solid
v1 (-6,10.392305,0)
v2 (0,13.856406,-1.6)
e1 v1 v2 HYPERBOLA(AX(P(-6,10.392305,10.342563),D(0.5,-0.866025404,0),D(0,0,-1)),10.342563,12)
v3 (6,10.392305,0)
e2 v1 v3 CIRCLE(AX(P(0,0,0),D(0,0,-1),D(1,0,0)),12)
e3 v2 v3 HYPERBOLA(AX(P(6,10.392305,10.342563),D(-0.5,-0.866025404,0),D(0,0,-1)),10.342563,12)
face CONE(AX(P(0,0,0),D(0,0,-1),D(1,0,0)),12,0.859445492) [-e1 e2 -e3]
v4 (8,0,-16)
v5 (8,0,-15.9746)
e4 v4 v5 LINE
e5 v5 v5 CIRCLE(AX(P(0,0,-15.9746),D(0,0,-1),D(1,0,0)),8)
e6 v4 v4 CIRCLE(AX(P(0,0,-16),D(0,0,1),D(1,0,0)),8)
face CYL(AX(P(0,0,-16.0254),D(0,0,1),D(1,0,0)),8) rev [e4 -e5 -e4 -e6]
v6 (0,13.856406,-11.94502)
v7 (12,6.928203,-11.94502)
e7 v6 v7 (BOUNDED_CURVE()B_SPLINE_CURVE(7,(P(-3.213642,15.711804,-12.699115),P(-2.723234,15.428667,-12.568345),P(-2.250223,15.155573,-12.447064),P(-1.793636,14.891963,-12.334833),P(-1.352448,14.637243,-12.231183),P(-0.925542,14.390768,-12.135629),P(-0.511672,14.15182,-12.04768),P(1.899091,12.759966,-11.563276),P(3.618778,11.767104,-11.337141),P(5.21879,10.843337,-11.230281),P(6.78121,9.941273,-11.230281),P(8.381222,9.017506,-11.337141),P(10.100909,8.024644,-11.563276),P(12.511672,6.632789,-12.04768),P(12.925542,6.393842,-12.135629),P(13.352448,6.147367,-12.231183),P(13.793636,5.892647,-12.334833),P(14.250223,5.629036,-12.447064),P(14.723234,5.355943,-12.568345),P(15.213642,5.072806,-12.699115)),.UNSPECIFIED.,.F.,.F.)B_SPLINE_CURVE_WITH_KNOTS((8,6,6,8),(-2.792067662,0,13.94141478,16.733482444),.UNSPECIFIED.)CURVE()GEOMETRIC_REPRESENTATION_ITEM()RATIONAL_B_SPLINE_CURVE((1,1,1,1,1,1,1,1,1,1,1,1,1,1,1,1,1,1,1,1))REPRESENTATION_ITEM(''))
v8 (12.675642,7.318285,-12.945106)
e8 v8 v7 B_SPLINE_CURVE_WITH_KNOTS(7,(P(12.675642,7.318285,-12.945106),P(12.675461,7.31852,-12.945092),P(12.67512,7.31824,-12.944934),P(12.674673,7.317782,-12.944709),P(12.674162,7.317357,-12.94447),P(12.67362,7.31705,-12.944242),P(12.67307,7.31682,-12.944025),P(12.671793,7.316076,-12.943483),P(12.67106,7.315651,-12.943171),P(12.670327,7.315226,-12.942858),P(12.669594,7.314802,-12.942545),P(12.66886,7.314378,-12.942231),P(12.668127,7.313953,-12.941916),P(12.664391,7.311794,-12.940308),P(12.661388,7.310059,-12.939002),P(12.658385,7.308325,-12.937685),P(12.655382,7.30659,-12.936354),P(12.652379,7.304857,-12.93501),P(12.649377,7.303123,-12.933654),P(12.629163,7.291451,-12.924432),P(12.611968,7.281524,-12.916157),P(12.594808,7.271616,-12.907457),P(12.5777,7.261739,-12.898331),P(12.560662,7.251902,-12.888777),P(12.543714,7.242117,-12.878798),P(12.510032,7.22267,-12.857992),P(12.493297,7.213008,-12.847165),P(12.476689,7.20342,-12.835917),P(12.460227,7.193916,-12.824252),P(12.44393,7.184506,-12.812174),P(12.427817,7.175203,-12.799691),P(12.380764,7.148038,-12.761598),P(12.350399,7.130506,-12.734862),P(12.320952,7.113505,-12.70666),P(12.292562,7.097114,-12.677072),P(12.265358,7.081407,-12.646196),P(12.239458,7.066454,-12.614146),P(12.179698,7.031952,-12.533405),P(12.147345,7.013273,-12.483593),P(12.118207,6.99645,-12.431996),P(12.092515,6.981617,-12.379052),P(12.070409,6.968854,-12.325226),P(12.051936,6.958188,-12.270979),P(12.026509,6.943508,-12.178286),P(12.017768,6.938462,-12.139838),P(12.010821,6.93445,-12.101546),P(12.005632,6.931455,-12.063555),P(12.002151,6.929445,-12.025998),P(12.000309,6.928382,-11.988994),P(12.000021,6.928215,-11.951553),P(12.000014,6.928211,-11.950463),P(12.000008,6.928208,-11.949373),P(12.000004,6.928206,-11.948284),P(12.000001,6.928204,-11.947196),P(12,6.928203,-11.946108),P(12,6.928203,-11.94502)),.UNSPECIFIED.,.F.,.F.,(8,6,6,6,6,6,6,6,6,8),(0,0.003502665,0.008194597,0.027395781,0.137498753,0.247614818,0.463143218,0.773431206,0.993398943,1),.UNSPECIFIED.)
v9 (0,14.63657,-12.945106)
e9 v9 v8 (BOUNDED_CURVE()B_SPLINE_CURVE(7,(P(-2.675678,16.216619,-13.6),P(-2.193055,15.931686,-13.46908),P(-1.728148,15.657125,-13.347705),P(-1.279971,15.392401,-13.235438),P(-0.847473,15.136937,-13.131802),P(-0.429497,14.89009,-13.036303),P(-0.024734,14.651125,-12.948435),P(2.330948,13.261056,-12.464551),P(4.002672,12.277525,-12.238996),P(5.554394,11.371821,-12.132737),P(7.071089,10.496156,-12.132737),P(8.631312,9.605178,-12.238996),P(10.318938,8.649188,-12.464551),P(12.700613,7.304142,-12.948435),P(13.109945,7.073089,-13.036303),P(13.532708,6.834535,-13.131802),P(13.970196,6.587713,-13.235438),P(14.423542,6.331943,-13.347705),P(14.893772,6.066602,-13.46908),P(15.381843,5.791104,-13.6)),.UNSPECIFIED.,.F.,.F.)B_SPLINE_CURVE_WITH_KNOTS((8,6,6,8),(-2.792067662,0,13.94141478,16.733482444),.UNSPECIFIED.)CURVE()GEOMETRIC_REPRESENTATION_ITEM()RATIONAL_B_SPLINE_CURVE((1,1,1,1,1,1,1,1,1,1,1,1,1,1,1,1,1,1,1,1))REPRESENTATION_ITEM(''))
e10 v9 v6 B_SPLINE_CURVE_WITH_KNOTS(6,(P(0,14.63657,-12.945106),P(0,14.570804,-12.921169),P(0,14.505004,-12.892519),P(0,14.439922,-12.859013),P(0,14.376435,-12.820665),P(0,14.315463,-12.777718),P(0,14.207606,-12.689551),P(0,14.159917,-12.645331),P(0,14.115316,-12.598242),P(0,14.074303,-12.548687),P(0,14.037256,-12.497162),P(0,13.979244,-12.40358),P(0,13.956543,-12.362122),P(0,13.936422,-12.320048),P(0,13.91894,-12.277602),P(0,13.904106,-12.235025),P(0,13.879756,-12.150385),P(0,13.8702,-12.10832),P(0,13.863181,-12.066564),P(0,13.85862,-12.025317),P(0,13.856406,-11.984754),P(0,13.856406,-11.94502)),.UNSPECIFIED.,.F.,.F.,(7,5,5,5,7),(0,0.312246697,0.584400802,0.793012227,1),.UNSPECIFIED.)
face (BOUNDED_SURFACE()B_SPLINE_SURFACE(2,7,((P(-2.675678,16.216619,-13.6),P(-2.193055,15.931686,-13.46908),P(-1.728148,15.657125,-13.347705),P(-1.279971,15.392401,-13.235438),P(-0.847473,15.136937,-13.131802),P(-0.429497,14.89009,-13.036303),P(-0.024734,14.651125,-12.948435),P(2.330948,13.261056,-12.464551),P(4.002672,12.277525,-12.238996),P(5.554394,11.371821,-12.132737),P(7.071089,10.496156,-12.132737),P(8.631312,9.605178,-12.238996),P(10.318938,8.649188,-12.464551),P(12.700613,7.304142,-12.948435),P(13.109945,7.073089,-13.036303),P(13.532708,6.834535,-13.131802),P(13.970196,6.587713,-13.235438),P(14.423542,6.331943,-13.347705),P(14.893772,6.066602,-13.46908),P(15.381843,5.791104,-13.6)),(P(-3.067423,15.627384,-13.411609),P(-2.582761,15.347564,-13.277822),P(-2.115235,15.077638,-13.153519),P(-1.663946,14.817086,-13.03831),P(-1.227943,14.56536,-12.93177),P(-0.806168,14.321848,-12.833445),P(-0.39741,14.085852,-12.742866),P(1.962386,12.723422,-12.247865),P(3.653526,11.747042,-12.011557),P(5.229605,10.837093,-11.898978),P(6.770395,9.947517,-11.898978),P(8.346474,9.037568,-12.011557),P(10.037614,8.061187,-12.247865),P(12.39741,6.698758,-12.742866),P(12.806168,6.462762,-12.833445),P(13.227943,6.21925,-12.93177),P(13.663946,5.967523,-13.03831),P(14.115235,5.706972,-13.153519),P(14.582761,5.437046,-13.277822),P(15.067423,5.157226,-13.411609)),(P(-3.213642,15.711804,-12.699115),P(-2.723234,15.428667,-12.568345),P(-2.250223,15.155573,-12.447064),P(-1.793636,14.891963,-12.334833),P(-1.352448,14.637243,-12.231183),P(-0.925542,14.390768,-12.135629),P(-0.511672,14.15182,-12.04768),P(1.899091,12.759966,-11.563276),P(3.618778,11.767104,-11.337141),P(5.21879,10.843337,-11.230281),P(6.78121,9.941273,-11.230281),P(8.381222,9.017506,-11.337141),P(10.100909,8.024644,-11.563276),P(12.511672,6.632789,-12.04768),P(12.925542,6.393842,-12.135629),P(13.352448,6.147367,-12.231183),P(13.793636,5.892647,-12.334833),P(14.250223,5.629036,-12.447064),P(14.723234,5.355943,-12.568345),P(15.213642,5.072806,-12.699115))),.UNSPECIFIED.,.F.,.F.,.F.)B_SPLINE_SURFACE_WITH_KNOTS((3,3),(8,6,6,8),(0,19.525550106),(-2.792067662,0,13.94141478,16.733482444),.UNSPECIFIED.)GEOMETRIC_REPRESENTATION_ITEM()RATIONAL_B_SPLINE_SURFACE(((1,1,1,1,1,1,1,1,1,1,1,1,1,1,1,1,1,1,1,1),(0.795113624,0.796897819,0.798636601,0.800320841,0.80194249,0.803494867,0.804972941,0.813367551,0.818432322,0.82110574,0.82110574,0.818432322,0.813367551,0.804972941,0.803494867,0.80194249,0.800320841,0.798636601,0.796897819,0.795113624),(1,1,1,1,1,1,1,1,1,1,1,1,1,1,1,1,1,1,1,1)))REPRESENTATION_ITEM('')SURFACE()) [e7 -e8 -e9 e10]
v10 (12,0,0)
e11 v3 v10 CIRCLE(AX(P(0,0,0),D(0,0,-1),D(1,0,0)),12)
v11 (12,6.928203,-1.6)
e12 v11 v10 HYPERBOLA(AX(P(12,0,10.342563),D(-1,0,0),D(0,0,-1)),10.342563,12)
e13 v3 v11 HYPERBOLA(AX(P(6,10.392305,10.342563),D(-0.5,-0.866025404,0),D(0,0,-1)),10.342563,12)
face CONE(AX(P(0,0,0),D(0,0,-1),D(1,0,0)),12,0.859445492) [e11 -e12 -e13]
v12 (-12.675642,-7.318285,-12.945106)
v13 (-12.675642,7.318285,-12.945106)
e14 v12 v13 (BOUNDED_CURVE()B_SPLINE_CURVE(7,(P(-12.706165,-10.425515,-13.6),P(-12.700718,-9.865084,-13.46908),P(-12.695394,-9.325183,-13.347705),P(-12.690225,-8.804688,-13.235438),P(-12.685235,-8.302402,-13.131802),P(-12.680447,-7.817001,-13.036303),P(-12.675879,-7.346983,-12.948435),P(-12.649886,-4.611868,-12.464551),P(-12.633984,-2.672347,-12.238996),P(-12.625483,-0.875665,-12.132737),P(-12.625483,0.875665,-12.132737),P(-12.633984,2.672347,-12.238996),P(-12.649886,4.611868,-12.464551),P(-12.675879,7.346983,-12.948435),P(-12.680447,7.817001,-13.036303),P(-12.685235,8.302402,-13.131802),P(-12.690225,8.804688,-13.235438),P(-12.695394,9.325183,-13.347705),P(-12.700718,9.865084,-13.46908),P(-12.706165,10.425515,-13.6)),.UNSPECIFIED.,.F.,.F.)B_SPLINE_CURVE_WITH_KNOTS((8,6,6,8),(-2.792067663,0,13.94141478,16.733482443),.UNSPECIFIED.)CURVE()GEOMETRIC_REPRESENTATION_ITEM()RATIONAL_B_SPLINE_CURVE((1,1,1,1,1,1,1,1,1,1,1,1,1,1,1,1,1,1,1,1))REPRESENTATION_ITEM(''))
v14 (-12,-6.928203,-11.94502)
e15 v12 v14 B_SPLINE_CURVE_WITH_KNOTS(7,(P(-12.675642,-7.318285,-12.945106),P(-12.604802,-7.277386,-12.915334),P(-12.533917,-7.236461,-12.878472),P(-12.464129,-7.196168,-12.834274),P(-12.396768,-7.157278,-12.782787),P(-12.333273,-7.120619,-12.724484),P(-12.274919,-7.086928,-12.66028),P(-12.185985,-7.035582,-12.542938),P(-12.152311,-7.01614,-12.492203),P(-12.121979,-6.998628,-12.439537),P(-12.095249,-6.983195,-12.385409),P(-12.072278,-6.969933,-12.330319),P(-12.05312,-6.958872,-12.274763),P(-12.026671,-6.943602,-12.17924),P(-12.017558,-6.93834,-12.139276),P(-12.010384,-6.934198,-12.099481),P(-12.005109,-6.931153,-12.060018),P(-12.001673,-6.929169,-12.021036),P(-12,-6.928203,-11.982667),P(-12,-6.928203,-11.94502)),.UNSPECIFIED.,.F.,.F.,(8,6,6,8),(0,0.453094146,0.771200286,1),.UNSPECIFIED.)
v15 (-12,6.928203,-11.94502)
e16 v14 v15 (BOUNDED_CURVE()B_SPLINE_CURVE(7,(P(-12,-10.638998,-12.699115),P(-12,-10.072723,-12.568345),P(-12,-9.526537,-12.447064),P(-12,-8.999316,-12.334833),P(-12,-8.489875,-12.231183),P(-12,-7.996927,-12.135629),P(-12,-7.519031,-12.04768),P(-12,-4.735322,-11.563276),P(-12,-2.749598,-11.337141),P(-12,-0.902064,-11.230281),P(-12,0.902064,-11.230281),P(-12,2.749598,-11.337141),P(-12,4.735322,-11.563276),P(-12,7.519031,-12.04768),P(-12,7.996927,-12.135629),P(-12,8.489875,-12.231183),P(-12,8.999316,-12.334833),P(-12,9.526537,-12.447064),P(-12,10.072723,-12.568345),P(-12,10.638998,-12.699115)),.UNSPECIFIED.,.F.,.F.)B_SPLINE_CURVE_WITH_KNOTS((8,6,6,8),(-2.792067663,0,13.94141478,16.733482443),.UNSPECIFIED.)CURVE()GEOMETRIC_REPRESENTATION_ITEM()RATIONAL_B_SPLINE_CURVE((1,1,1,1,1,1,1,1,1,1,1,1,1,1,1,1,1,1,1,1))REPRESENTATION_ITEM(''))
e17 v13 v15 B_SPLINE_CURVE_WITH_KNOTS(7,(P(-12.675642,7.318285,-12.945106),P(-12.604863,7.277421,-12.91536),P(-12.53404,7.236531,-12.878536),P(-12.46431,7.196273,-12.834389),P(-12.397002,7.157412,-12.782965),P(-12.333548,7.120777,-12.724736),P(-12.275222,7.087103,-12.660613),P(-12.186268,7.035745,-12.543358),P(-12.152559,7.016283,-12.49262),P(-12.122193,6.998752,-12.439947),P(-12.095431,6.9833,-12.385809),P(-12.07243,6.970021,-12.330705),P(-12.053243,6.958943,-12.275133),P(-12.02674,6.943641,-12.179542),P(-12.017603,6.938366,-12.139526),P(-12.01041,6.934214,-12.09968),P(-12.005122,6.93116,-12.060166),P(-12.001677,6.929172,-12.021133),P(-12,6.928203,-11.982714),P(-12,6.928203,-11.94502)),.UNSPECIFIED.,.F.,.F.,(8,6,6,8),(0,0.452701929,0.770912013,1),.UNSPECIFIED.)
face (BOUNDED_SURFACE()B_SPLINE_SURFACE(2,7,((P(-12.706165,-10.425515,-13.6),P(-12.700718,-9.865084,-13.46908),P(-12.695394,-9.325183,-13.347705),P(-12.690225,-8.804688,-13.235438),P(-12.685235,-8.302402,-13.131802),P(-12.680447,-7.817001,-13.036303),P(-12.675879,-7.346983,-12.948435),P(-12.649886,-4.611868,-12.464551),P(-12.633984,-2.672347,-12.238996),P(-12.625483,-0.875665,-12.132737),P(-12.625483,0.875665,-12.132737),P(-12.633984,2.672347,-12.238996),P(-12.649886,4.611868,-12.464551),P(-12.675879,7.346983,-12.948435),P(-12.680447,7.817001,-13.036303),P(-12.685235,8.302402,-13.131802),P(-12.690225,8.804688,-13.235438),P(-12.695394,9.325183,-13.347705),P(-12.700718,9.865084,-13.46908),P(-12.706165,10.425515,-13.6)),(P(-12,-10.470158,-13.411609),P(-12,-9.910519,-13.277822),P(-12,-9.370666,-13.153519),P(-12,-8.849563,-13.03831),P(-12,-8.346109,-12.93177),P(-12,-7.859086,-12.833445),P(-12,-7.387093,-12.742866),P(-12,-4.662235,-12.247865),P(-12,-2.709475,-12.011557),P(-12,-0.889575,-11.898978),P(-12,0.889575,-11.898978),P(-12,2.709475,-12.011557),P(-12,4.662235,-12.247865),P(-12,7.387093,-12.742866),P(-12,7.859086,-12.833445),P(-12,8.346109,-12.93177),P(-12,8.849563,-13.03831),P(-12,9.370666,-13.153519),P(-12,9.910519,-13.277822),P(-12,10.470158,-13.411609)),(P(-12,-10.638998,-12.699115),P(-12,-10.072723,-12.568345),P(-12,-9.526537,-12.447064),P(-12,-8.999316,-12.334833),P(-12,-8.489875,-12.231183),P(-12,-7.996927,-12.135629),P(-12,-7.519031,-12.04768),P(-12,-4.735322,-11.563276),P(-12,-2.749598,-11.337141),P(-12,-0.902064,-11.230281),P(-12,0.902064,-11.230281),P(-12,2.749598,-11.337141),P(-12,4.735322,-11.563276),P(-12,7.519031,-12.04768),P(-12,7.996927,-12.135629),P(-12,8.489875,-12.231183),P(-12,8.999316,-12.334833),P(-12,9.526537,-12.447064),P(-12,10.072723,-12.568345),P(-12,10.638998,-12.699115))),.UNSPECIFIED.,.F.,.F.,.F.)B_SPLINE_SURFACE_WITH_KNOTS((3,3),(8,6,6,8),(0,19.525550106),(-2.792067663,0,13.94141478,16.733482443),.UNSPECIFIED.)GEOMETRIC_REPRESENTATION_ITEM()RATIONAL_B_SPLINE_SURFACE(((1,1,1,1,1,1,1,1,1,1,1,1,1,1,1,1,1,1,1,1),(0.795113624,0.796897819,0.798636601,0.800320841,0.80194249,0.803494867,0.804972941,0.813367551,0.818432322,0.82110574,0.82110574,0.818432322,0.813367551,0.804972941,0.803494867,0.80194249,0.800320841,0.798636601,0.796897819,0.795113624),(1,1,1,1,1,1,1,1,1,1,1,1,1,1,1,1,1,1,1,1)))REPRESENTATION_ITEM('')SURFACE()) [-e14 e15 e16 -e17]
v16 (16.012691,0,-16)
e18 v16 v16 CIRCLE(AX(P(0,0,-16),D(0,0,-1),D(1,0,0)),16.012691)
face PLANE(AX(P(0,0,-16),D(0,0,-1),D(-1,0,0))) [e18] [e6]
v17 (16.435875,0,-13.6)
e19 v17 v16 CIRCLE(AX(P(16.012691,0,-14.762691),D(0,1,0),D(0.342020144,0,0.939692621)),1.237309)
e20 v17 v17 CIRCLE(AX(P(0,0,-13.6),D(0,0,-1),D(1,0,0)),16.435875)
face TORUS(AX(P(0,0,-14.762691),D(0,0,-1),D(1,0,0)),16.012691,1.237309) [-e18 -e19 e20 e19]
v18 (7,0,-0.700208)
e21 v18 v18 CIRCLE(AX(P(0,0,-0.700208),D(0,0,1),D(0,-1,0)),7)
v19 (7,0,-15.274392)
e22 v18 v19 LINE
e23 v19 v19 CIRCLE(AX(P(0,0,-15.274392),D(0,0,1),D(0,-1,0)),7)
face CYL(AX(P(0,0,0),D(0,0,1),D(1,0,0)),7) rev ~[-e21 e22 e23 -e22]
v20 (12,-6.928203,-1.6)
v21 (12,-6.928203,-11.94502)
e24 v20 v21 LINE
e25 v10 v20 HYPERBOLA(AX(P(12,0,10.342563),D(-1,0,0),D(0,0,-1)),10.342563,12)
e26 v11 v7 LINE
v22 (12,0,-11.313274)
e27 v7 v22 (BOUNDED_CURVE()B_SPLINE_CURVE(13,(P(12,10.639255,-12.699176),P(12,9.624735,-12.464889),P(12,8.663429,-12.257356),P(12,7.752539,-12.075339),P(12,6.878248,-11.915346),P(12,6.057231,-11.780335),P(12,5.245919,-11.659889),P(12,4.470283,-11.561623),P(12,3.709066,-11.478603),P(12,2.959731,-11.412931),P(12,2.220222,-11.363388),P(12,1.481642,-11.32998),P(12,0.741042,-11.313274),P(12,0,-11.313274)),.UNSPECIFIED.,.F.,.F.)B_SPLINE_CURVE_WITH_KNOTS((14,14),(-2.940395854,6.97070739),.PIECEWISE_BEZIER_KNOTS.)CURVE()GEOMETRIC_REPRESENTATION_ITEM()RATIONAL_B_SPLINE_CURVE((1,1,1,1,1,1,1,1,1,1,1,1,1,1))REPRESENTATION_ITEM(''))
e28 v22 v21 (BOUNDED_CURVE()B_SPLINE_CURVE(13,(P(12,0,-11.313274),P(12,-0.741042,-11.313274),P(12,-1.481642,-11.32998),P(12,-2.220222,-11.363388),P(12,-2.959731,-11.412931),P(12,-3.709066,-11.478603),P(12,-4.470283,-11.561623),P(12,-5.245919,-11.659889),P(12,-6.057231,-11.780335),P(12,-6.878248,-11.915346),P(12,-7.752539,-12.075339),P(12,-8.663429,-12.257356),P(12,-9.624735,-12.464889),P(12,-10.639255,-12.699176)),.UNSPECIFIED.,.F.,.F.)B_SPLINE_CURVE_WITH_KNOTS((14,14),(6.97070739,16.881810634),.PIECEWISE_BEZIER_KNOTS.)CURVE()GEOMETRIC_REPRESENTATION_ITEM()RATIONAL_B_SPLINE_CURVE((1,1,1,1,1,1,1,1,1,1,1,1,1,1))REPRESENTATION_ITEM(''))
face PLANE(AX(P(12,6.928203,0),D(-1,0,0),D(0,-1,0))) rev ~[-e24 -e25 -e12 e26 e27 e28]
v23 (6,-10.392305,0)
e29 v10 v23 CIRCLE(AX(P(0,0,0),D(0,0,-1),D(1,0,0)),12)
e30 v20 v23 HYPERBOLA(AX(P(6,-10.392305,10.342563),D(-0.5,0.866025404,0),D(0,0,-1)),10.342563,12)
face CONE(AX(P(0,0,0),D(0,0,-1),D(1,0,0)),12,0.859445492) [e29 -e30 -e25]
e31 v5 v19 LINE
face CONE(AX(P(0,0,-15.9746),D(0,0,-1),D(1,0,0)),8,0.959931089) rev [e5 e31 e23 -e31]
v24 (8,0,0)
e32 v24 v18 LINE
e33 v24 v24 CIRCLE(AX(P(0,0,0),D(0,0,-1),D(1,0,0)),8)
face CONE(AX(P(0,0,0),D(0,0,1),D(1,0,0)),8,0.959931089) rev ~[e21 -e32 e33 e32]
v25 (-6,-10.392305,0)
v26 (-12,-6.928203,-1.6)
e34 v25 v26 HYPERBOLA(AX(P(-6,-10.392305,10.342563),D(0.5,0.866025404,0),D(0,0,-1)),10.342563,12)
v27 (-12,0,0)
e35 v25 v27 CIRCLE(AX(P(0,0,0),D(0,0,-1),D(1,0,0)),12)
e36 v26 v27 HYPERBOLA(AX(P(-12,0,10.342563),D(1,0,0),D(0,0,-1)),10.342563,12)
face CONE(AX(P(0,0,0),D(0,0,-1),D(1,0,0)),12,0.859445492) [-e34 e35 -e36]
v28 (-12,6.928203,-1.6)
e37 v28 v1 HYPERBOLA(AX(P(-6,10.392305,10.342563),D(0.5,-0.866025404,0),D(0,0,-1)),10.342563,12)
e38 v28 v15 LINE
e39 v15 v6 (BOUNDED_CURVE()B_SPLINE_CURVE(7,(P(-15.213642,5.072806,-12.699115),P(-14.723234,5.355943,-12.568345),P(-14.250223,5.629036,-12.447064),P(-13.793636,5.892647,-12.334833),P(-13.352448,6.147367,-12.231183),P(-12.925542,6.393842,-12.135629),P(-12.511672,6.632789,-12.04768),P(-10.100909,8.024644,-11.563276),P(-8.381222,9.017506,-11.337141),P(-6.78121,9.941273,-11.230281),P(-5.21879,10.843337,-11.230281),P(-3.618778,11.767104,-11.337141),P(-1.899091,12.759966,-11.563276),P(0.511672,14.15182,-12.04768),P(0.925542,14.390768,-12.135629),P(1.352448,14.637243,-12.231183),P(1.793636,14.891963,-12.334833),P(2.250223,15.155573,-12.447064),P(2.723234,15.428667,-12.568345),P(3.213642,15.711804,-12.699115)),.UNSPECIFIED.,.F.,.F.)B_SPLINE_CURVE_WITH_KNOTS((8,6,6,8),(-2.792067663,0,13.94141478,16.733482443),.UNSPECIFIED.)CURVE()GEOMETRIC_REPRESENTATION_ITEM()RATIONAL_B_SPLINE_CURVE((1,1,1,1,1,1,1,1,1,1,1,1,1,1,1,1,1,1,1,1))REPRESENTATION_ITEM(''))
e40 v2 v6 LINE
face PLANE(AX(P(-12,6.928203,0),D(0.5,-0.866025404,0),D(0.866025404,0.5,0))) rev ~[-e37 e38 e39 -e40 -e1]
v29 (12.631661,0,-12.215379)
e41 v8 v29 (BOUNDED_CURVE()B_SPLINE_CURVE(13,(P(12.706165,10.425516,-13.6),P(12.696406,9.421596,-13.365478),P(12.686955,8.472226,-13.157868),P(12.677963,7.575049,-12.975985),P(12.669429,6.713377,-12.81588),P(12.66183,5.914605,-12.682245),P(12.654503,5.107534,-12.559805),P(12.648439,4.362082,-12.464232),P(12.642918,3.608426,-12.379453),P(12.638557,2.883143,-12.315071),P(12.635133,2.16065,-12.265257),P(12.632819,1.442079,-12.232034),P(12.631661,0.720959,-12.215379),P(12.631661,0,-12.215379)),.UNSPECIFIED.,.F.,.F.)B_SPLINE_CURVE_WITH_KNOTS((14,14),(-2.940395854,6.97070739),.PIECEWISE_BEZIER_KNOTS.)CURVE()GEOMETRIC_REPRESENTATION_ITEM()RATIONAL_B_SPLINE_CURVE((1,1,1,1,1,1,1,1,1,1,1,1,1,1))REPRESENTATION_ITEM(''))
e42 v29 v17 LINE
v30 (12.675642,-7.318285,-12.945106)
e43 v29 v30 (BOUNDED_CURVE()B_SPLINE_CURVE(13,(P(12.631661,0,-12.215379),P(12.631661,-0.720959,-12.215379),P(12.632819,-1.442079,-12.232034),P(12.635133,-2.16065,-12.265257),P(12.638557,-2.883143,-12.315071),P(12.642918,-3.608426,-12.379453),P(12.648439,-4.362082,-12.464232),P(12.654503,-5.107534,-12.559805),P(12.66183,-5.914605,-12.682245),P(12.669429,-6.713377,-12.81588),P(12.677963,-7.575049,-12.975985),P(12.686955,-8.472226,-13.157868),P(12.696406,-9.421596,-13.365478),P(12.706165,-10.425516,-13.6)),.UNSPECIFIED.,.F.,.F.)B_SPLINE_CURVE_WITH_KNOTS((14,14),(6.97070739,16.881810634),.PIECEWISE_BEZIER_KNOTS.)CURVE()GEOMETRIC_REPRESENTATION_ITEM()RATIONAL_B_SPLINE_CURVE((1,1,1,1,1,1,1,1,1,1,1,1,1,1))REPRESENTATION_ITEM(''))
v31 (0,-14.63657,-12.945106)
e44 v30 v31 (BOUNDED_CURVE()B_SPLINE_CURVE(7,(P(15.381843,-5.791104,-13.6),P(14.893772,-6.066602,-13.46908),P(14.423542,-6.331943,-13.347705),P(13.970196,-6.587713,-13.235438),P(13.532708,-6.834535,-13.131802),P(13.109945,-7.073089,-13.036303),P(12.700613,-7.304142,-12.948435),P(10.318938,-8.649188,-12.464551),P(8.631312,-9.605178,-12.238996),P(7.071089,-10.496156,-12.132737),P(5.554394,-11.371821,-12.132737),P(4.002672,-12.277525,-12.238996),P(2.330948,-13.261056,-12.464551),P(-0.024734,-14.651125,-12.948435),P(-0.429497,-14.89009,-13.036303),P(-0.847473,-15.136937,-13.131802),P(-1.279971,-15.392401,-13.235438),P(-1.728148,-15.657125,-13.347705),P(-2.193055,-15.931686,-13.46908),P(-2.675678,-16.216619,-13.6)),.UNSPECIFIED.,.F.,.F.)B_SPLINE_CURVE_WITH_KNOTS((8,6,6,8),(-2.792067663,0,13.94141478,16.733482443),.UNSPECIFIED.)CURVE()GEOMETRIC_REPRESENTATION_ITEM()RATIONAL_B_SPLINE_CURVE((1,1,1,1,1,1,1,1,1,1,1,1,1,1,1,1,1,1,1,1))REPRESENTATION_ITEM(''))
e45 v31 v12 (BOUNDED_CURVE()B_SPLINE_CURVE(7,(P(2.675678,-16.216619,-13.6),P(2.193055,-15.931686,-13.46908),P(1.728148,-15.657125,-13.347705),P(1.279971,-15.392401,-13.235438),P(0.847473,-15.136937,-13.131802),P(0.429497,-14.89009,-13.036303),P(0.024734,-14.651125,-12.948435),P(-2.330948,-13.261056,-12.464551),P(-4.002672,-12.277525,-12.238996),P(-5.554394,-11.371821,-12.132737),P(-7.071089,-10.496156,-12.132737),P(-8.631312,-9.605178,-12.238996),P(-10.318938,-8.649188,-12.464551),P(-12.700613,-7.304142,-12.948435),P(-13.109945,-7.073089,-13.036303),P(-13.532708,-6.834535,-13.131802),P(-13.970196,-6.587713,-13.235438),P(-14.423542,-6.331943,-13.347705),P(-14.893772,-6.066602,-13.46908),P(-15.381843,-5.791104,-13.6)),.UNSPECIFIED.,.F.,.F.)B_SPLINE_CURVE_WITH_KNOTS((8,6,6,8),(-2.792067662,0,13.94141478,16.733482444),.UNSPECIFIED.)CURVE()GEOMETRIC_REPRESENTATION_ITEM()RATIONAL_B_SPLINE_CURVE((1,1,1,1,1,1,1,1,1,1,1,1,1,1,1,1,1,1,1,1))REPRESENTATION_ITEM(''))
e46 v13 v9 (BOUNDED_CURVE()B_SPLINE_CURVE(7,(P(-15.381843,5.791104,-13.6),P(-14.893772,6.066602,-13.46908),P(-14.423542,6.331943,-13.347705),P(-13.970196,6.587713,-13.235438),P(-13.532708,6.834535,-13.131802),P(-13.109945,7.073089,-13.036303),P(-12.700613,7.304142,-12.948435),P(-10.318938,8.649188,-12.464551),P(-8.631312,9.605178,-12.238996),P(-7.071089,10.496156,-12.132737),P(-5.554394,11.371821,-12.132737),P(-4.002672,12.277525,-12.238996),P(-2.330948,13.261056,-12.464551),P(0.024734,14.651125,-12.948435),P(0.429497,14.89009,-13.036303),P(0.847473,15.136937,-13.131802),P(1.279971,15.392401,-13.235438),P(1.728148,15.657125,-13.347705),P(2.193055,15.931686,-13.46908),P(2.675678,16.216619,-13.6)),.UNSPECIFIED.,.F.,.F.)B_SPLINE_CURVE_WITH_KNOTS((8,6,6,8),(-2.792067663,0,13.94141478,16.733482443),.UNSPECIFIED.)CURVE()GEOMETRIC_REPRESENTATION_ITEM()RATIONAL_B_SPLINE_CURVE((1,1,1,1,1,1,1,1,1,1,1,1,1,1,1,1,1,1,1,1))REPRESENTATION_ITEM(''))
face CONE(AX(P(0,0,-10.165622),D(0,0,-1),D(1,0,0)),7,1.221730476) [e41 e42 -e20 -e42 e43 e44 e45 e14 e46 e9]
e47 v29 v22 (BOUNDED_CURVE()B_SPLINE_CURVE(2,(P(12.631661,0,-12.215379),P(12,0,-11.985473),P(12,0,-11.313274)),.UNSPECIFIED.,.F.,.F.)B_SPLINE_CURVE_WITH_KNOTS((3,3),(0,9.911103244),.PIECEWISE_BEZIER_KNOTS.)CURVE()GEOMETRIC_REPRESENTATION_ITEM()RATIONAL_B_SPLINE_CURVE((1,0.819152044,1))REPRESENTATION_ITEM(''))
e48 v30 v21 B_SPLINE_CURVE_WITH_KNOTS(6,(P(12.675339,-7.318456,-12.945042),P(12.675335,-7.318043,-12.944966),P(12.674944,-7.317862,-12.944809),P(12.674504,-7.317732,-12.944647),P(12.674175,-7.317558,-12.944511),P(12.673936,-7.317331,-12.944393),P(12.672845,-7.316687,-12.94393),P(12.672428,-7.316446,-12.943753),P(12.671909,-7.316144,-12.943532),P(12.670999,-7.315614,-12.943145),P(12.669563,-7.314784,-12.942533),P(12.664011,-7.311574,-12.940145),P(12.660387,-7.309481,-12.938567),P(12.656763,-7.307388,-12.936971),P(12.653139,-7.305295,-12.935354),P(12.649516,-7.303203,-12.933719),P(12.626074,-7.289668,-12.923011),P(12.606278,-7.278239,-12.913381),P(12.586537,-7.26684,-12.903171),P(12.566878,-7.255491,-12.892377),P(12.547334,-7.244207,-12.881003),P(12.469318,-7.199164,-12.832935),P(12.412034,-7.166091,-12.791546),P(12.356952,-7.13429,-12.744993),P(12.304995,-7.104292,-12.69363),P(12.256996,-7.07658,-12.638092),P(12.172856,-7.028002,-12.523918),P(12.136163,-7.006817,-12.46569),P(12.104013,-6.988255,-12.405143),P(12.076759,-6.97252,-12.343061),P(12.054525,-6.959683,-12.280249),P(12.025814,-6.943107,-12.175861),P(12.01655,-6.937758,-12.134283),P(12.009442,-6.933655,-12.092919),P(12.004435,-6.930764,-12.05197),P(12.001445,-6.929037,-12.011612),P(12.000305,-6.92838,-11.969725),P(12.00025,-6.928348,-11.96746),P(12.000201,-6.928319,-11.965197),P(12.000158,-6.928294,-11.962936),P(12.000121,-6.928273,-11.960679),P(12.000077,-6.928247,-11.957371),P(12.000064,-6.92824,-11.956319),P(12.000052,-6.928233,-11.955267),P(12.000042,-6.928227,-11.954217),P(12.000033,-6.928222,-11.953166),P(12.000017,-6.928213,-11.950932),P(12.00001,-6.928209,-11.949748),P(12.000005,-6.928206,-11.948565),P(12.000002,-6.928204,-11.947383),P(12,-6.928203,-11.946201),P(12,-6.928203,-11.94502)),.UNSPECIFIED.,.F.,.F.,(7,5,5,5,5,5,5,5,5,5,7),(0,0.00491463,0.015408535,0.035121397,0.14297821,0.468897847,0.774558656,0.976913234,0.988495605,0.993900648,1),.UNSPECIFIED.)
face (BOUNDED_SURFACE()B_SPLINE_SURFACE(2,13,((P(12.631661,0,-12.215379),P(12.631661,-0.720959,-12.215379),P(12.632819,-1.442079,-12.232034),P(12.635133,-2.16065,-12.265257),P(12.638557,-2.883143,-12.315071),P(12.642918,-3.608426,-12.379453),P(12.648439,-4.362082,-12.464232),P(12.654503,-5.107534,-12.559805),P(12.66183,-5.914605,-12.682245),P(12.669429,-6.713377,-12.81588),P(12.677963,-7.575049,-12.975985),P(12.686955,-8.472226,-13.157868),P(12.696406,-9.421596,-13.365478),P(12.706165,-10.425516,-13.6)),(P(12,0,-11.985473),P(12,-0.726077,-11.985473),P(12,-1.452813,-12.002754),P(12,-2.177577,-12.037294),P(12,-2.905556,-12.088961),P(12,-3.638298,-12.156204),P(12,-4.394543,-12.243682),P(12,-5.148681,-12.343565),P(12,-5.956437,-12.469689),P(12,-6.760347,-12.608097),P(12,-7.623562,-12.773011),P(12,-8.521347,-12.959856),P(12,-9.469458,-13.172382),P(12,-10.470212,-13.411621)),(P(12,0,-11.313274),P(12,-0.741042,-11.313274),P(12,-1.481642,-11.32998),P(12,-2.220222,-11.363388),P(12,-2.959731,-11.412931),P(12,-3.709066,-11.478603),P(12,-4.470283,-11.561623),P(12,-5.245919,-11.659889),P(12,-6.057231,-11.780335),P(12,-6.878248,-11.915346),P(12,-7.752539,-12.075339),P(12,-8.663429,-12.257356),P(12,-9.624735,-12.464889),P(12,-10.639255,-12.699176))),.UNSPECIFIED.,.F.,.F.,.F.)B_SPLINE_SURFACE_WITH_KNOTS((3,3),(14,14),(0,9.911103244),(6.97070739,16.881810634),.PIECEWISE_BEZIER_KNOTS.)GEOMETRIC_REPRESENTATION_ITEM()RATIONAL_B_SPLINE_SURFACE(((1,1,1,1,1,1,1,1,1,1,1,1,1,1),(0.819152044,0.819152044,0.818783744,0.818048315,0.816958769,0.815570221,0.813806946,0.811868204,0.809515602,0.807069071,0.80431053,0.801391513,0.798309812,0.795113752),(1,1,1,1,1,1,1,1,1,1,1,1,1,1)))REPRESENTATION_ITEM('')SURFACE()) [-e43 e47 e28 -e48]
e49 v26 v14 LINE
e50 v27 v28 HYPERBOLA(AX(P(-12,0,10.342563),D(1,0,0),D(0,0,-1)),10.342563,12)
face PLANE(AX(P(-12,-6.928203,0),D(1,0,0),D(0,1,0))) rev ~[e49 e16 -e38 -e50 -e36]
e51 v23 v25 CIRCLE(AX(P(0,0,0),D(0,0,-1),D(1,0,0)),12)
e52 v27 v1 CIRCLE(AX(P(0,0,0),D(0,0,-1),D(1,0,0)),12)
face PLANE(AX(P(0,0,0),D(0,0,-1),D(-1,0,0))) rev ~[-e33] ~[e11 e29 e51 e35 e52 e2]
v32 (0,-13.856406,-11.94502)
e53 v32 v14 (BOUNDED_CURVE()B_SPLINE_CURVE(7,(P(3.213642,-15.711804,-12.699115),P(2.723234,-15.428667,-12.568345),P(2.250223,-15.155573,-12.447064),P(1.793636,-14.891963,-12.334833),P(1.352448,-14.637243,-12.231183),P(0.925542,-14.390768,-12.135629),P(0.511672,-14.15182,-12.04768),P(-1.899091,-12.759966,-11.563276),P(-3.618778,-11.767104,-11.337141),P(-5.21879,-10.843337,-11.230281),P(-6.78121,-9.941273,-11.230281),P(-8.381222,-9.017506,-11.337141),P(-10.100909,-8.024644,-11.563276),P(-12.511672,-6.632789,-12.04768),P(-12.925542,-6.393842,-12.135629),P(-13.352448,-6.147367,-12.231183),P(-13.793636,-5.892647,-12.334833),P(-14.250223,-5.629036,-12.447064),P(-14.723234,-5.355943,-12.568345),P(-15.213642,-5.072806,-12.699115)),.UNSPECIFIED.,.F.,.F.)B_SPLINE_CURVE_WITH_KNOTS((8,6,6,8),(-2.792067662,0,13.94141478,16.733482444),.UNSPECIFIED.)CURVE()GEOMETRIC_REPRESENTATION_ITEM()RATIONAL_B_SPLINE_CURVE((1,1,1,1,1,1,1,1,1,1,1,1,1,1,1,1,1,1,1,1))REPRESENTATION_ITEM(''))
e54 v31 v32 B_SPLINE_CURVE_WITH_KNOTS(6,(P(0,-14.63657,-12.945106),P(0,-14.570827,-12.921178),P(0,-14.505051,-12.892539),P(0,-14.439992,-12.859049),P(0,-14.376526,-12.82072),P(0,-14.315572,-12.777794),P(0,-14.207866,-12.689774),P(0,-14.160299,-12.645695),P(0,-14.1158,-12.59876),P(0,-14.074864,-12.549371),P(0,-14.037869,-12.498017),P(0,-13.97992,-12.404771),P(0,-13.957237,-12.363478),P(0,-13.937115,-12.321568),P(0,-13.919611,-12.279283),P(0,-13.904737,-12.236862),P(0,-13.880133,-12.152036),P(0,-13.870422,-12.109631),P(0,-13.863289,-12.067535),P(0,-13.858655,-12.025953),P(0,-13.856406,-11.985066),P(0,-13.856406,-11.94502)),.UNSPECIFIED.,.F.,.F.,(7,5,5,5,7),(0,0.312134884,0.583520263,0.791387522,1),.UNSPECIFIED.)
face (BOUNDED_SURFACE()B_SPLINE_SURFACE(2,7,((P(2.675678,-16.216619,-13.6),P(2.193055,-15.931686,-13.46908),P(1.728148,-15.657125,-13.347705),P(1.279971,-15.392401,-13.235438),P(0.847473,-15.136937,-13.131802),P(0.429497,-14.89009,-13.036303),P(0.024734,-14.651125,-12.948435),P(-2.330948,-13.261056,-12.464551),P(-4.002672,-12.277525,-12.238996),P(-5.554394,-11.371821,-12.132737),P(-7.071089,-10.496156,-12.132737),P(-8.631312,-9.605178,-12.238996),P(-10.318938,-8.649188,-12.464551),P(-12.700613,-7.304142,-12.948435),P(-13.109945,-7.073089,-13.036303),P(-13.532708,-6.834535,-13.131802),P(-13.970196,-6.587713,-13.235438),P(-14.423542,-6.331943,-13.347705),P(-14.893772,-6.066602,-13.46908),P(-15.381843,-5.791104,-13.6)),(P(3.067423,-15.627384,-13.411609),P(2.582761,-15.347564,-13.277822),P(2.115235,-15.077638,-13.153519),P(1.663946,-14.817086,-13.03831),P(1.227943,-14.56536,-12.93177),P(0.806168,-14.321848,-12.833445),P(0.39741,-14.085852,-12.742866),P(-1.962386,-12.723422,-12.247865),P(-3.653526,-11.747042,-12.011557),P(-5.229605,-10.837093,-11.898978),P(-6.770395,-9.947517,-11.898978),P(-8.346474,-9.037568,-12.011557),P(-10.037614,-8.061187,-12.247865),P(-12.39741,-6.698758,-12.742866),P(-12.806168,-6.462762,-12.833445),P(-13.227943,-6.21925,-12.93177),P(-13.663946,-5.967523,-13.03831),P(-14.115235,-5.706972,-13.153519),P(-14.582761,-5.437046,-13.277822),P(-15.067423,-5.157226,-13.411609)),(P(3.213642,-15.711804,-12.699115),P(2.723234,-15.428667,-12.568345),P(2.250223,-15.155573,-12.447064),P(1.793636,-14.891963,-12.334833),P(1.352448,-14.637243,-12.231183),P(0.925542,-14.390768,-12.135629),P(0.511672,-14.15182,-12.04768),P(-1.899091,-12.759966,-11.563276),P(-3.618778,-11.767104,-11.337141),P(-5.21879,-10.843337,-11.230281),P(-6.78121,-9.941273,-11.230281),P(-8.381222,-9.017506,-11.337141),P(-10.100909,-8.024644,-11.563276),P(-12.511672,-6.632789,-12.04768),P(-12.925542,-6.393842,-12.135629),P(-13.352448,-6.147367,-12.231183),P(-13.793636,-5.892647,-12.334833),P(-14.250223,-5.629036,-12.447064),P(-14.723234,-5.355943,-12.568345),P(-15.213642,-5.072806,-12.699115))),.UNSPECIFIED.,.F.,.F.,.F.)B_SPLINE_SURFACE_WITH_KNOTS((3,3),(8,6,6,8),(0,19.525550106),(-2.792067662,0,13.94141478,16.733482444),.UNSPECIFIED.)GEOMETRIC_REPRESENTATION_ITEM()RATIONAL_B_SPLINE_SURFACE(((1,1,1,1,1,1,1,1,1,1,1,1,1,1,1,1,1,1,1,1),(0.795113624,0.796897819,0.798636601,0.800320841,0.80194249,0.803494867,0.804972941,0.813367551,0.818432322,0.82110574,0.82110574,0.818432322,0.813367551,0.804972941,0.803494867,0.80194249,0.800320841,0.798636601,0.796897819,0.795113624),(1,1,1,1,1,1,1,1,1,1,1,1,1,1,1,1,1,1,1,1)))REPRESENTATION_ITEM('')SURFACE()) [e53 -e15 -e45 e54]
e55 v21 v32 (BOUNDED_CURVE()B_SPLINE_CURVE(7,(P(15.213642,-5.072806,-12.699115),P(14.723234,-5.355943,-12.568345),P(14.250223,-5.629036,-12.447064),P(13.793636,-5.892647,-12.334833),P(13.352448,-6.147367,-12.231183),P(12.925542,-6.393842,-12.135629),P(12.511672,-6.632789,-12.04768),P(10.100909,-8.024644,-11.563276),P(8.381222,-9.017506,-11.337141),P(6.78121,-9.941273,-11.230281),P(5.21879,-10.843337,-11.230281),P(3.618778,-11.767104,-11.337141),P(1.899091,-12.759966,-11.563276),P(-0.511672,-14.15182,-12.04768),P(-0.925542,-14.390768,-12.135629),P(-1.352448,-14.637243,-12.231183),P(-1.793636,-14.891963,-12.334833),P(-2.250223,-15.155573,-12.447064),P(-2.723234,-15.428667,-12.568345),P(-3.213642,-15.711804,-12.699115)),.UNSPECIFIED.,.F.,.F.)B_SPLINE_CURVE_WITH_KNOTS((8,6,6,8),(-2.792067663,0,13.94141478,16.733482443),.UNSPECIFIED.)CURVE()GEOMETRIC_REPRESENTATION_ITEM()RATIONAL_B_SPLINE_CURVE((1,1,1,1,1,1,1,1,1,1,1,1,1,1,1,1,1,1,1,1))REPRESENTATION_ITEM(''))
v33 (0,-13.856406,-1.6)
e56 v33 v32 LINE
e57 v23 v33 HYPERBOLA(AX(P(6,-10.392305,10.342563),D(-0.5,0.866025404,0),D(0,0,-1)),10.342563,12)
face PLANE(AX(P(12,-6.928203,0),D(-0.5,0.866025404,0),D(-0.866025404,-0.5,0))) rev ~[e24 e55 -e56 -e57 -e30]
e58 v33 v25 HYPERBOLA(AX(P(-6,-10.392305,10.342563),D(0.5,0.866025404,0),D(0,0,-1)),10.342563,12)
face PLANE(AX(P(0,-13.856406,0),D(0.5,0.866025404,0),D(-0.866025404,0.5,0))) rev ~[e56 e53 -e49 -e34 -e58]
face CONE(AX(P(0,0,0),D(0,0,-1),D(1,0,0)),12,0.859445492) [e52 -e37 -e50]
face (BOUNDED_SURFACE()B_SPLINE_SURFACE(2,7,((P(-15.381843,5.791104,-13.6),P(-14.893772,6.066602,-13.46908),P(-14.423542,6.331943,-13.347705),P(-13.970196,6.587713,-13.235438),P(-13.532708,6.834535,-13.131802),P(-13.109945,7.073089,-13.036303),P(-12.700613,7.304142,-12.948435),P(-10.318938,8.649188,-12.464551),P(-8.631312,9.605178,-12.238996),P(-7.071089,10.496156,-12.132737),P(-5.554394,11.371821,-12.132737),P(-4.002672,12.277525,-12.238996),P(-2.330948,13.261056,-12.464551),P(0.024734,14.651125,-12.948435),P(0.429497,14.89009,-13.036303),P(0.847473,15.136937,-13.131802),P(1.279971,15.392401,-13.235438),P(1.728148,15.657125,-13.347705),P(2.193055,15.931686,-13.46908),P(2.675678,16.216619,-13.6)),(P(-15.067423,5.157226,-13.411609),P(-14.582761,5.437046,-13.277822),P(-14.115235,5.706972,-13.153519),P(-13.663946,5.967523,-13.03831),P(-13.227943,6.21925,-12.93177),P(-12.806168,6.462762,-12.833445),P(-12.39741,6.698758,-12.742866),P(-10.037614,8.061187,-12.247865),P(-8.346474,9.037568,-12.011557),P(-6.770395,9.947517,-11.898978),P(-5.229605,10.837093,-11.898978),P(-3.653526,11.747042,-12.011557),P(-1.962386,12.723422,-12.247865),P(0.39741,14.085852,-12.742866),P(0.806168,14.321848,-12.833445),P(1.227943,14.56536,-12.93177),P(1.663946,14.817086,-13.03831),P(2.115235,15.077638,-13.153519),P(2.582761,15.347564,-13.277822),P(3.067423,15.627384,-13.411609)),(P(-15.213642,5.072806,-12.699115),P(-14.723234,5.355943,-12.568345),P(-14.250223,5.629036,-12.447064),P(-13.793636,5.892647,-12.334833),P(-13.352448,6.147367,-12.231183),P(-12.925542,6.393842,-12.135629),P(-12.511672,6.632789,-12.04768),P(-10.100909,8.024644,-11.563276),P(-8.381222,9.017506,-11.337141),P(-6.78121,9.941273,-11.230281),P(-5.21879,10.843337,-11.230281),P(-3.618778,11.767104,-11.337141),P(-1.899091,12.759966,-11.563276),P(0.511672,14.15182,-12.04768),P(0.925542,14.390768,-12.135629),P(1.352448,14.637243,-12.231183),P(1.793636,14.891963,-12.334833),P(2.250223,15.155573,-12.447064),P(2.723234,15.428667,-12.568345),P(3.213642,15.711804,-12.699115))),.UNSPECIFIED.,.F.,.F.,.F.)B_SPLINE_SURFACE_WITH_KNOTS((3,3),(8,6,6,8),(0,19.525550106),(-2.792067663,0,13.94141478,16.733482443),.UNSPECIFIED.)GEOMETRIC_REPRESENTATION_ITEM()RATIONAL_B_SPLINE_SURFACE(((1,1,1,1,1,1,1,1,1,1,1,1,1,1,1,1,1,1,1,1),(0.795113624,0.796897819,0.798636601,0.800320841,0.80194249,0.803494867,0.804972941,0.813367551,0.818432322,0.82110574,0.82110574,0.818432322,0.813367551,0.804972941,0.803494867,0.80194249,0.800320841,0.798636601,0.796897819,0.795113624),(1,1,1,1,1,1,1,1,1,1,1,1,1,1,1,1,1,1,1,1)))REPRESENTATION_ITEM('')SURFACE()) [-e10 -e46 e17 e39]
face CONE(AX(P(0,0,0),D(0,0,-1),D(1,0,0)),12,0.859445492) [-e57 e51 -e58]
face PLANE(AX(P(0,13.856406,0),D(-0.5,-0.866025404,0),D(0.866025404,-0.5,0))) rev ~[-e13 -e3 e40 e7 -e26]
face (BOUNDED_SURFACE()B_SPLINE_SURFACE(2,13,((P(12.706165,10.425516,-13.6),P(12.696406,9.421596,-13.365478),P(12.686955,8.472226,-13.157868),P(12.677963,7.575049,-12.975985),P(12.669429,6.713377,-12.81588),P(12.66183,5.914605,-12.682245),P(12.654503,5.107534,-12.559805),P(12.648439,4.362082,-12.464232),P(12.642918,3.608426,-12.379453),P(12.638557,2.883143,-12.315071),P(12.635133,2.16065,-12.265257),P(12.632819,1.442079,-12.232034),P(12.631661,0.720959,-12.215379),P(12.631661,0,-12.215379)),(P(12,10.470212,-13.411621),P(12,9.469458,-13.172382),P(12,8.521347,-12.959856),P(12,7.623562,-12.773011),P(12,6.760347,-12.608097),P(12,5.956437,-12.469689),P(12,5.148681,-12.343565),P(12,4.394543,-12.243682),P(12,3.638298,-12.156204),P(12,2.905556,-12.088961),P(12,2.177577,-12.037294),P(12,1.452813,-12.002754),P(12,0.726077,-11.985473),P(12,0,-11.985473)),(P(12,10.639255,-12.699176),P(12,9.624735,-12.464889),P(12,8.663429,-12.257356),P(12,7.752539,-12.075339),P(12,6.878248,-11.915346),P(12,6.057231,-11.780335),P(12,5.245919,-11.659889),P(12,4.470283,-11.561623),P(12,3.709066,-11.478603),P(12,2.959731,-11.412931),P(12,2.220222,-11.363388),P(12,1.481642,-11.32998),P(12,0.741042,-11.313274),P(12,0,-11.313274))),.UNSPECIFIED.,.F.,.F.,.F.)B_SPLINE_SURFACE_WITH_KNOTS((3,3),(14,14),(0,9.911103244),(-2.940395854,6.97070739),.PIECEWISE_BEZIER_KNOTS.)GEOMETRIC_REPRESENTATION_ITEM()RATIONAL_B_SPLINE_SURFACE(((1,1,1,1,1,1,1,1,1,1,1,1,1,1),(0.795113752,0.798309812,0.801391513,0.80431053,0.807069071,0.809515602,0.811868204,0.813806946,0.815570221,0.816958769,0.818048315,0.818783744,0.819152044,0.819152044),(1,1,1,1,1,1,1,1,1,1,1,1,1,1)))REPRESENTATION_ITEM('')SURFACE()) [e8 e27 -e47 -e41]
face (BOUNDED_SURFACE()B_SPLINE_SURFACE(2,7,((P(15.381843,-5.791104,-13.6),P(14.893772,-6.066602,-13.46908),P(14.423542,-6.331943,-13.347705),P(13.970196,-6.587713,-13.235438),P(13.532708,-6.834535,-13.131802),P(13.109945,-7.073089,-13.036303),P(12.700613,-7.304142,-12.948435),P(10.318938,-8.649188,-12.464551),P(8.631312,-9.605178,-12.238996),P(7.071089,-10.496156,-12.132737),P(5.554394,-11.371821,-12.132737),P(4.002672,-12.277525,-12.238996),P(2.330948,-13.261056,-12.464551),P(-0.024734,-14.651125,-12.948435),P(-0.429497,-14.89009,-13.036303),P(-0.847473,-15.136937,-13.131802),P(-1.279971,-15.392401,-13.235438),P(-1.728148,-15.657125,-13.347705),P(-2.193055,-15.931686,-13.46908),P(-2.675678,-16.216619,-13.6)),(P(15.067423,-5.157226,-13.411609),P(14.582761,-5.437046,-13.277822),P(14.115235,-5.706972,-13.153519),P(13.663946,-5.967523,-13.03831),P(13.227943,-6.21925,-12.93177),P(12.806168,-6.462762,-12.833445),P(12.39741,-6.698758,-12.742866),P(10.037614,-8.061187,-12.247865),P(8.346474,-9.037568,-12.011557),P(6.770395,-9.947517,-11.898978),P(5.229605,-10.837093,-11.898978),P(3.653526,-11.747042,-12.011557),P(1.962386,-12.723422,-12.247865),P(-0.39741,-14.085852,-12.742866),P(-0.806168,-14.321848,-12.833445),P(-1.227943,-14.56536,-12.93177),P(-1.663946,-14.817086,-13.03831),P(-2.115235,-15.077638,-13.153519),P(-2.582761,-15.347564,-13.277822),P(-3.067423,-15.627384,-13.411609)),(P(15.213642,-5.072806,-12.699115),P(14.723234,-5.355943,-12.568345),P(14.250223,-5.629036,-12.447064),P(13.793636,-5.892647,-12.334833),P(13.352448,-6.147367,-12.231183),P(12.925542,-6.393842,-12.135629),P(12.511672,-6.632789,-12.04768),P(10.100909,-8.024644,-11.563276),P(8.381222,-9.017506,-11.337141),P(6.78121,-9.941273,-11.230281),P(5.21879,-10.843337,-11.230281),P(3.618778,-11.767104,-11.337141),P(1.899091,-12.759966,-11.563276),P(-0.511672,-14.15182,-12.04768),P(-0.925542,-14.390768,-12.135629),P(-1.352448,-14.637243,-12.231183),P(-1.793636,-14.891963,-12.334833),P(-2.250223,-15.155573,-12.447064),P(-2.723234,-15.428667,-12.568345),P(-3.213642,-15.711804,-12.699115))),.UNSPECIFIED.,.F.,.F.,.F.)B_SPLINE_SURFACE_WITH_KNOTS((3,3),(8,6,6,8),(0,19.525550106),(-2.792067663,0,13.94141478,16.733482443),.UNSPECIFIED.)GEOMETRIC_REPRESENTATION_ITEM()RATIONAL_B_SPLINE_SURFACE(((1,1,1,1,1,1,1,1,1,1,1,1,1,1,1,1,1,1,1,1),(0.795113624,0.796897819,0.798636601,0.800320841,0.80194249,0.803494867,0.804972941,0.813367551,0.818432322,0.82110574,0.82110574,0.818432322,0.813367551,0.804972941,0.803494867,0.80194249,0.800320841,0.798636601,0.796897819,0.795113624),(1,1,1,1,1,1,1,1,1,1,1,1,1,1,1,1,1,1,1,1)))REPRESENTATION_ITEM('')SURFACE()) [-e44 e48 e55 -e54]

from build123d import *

# Parameters (mm, degrees)
BASENUTSKE_R   = 7
BASENUT_DEPTH  = 16
FLANGEFILLET_R = 0.96


with BuildPart() as part:
    # BaseNutSke → BaseNut (new body)
    with BuildSketch(Plane.XY):
        Polygon((12, 6.92820323), (12, -6.92820323), (0, -13.856406461), (-12, -6.92820323), (-12, 6.92820323), (0, 13.856406461), align=None)
        Circle(BASENUTSKE_R, mode=Mode.SUBTRACT)
    extrude(amount=-BASENUT_DEPTH)

    # Sketch6 → Flange (revolve)
    with BuildSketch(Plane(origin=(0, 0, 0), x_dir=(0, 0, -1), z_dir=(1, 0, 0)), mode=Mode.PRIVATE) as flange_sk:
        with BuildLine():
            Line((10.165622253, 7), (13.6, 16.435875309))
            ThreePointArc((13.6, 16.435875309), (14.977547085, 17.231202489), (16, 16.012690555))
            Line((16, 16.012690555), (16, 7))
            Line((16, 7), (10.165622253, 7))
        make_face()
    revolve(flange_sk.sketch.rotate(Axis((0, 0, 0), (0, 0, -1)), 90), axis=Axis((0, 0, 0), (0, 0, -1)))

    # Sketch3 → Double-Chamfer (revolve, cut)
    with BuildSketch(Plane(origin=(0, 0, 0), x_dir=(0, 0, -1), z_dir=(1, 0, 0)), mode=Mode.PRIVATE) as double_chamfer_sk:
        Polygon((1.6, 26.556406461), (-12.7, 26.556406461), (-12.7, 12), (0, 12), (1.6, 13.856406461), align=None)
    revolve(double_chamfer_sk.sketch.rotate(Axis((0, 0, 0), (0, 0, -1)), 90), axis=Axis((0, 0, 0), (0, 0, -1)), mode=Mode.SUBTRACT)

    # FlangeFillet
    flangefillet_edges = [part.edges().sort_by_distance(p)[0] for p in [
        (12, -3.479213152, -12.16534592),
        (12, 3.479213152, -12.16534592),
        (6, -10.392304845, -11.985473425),
        (6, 10.392304845, -11.985473425),
        (-6, 10.392304845, -11.985473425),
        (-12, 0, -11.985473425),
        (-6, -10.392304845, -11.985473425),
    ]]
    fillet(flangefillet_edges, radius=FLANGEFILLET_R)

    # Sketch5 (on Right Plane) → EndChamfer (revolve, cut)
    with BuildSketch(Plane(origin=(0, 0, 0), x_dir=(0, 0, -1), z_dir=(1, 0, 0)), mode=Mode.PRIVATE) as endchamfer_sk:
        Polygon((15.9746, 8), (15.204371708, 6.9), (16.0254, 6.9), (16.0254, 8), align=None)
        Polygon((-0.0508, 8), (0, 8), (0.770228292, 6.9), (-0.0508, 6.9), align=None)
    revolve(endchamfer_sk.sketch.rotate(Axis((0, 0, -25.037505729), (0, 0, -1)), 90), axis=Axis((0, 0, -25.037505729), (0, 0, -1)), mode=Mode.SUBTRACT)


solid = part.part
